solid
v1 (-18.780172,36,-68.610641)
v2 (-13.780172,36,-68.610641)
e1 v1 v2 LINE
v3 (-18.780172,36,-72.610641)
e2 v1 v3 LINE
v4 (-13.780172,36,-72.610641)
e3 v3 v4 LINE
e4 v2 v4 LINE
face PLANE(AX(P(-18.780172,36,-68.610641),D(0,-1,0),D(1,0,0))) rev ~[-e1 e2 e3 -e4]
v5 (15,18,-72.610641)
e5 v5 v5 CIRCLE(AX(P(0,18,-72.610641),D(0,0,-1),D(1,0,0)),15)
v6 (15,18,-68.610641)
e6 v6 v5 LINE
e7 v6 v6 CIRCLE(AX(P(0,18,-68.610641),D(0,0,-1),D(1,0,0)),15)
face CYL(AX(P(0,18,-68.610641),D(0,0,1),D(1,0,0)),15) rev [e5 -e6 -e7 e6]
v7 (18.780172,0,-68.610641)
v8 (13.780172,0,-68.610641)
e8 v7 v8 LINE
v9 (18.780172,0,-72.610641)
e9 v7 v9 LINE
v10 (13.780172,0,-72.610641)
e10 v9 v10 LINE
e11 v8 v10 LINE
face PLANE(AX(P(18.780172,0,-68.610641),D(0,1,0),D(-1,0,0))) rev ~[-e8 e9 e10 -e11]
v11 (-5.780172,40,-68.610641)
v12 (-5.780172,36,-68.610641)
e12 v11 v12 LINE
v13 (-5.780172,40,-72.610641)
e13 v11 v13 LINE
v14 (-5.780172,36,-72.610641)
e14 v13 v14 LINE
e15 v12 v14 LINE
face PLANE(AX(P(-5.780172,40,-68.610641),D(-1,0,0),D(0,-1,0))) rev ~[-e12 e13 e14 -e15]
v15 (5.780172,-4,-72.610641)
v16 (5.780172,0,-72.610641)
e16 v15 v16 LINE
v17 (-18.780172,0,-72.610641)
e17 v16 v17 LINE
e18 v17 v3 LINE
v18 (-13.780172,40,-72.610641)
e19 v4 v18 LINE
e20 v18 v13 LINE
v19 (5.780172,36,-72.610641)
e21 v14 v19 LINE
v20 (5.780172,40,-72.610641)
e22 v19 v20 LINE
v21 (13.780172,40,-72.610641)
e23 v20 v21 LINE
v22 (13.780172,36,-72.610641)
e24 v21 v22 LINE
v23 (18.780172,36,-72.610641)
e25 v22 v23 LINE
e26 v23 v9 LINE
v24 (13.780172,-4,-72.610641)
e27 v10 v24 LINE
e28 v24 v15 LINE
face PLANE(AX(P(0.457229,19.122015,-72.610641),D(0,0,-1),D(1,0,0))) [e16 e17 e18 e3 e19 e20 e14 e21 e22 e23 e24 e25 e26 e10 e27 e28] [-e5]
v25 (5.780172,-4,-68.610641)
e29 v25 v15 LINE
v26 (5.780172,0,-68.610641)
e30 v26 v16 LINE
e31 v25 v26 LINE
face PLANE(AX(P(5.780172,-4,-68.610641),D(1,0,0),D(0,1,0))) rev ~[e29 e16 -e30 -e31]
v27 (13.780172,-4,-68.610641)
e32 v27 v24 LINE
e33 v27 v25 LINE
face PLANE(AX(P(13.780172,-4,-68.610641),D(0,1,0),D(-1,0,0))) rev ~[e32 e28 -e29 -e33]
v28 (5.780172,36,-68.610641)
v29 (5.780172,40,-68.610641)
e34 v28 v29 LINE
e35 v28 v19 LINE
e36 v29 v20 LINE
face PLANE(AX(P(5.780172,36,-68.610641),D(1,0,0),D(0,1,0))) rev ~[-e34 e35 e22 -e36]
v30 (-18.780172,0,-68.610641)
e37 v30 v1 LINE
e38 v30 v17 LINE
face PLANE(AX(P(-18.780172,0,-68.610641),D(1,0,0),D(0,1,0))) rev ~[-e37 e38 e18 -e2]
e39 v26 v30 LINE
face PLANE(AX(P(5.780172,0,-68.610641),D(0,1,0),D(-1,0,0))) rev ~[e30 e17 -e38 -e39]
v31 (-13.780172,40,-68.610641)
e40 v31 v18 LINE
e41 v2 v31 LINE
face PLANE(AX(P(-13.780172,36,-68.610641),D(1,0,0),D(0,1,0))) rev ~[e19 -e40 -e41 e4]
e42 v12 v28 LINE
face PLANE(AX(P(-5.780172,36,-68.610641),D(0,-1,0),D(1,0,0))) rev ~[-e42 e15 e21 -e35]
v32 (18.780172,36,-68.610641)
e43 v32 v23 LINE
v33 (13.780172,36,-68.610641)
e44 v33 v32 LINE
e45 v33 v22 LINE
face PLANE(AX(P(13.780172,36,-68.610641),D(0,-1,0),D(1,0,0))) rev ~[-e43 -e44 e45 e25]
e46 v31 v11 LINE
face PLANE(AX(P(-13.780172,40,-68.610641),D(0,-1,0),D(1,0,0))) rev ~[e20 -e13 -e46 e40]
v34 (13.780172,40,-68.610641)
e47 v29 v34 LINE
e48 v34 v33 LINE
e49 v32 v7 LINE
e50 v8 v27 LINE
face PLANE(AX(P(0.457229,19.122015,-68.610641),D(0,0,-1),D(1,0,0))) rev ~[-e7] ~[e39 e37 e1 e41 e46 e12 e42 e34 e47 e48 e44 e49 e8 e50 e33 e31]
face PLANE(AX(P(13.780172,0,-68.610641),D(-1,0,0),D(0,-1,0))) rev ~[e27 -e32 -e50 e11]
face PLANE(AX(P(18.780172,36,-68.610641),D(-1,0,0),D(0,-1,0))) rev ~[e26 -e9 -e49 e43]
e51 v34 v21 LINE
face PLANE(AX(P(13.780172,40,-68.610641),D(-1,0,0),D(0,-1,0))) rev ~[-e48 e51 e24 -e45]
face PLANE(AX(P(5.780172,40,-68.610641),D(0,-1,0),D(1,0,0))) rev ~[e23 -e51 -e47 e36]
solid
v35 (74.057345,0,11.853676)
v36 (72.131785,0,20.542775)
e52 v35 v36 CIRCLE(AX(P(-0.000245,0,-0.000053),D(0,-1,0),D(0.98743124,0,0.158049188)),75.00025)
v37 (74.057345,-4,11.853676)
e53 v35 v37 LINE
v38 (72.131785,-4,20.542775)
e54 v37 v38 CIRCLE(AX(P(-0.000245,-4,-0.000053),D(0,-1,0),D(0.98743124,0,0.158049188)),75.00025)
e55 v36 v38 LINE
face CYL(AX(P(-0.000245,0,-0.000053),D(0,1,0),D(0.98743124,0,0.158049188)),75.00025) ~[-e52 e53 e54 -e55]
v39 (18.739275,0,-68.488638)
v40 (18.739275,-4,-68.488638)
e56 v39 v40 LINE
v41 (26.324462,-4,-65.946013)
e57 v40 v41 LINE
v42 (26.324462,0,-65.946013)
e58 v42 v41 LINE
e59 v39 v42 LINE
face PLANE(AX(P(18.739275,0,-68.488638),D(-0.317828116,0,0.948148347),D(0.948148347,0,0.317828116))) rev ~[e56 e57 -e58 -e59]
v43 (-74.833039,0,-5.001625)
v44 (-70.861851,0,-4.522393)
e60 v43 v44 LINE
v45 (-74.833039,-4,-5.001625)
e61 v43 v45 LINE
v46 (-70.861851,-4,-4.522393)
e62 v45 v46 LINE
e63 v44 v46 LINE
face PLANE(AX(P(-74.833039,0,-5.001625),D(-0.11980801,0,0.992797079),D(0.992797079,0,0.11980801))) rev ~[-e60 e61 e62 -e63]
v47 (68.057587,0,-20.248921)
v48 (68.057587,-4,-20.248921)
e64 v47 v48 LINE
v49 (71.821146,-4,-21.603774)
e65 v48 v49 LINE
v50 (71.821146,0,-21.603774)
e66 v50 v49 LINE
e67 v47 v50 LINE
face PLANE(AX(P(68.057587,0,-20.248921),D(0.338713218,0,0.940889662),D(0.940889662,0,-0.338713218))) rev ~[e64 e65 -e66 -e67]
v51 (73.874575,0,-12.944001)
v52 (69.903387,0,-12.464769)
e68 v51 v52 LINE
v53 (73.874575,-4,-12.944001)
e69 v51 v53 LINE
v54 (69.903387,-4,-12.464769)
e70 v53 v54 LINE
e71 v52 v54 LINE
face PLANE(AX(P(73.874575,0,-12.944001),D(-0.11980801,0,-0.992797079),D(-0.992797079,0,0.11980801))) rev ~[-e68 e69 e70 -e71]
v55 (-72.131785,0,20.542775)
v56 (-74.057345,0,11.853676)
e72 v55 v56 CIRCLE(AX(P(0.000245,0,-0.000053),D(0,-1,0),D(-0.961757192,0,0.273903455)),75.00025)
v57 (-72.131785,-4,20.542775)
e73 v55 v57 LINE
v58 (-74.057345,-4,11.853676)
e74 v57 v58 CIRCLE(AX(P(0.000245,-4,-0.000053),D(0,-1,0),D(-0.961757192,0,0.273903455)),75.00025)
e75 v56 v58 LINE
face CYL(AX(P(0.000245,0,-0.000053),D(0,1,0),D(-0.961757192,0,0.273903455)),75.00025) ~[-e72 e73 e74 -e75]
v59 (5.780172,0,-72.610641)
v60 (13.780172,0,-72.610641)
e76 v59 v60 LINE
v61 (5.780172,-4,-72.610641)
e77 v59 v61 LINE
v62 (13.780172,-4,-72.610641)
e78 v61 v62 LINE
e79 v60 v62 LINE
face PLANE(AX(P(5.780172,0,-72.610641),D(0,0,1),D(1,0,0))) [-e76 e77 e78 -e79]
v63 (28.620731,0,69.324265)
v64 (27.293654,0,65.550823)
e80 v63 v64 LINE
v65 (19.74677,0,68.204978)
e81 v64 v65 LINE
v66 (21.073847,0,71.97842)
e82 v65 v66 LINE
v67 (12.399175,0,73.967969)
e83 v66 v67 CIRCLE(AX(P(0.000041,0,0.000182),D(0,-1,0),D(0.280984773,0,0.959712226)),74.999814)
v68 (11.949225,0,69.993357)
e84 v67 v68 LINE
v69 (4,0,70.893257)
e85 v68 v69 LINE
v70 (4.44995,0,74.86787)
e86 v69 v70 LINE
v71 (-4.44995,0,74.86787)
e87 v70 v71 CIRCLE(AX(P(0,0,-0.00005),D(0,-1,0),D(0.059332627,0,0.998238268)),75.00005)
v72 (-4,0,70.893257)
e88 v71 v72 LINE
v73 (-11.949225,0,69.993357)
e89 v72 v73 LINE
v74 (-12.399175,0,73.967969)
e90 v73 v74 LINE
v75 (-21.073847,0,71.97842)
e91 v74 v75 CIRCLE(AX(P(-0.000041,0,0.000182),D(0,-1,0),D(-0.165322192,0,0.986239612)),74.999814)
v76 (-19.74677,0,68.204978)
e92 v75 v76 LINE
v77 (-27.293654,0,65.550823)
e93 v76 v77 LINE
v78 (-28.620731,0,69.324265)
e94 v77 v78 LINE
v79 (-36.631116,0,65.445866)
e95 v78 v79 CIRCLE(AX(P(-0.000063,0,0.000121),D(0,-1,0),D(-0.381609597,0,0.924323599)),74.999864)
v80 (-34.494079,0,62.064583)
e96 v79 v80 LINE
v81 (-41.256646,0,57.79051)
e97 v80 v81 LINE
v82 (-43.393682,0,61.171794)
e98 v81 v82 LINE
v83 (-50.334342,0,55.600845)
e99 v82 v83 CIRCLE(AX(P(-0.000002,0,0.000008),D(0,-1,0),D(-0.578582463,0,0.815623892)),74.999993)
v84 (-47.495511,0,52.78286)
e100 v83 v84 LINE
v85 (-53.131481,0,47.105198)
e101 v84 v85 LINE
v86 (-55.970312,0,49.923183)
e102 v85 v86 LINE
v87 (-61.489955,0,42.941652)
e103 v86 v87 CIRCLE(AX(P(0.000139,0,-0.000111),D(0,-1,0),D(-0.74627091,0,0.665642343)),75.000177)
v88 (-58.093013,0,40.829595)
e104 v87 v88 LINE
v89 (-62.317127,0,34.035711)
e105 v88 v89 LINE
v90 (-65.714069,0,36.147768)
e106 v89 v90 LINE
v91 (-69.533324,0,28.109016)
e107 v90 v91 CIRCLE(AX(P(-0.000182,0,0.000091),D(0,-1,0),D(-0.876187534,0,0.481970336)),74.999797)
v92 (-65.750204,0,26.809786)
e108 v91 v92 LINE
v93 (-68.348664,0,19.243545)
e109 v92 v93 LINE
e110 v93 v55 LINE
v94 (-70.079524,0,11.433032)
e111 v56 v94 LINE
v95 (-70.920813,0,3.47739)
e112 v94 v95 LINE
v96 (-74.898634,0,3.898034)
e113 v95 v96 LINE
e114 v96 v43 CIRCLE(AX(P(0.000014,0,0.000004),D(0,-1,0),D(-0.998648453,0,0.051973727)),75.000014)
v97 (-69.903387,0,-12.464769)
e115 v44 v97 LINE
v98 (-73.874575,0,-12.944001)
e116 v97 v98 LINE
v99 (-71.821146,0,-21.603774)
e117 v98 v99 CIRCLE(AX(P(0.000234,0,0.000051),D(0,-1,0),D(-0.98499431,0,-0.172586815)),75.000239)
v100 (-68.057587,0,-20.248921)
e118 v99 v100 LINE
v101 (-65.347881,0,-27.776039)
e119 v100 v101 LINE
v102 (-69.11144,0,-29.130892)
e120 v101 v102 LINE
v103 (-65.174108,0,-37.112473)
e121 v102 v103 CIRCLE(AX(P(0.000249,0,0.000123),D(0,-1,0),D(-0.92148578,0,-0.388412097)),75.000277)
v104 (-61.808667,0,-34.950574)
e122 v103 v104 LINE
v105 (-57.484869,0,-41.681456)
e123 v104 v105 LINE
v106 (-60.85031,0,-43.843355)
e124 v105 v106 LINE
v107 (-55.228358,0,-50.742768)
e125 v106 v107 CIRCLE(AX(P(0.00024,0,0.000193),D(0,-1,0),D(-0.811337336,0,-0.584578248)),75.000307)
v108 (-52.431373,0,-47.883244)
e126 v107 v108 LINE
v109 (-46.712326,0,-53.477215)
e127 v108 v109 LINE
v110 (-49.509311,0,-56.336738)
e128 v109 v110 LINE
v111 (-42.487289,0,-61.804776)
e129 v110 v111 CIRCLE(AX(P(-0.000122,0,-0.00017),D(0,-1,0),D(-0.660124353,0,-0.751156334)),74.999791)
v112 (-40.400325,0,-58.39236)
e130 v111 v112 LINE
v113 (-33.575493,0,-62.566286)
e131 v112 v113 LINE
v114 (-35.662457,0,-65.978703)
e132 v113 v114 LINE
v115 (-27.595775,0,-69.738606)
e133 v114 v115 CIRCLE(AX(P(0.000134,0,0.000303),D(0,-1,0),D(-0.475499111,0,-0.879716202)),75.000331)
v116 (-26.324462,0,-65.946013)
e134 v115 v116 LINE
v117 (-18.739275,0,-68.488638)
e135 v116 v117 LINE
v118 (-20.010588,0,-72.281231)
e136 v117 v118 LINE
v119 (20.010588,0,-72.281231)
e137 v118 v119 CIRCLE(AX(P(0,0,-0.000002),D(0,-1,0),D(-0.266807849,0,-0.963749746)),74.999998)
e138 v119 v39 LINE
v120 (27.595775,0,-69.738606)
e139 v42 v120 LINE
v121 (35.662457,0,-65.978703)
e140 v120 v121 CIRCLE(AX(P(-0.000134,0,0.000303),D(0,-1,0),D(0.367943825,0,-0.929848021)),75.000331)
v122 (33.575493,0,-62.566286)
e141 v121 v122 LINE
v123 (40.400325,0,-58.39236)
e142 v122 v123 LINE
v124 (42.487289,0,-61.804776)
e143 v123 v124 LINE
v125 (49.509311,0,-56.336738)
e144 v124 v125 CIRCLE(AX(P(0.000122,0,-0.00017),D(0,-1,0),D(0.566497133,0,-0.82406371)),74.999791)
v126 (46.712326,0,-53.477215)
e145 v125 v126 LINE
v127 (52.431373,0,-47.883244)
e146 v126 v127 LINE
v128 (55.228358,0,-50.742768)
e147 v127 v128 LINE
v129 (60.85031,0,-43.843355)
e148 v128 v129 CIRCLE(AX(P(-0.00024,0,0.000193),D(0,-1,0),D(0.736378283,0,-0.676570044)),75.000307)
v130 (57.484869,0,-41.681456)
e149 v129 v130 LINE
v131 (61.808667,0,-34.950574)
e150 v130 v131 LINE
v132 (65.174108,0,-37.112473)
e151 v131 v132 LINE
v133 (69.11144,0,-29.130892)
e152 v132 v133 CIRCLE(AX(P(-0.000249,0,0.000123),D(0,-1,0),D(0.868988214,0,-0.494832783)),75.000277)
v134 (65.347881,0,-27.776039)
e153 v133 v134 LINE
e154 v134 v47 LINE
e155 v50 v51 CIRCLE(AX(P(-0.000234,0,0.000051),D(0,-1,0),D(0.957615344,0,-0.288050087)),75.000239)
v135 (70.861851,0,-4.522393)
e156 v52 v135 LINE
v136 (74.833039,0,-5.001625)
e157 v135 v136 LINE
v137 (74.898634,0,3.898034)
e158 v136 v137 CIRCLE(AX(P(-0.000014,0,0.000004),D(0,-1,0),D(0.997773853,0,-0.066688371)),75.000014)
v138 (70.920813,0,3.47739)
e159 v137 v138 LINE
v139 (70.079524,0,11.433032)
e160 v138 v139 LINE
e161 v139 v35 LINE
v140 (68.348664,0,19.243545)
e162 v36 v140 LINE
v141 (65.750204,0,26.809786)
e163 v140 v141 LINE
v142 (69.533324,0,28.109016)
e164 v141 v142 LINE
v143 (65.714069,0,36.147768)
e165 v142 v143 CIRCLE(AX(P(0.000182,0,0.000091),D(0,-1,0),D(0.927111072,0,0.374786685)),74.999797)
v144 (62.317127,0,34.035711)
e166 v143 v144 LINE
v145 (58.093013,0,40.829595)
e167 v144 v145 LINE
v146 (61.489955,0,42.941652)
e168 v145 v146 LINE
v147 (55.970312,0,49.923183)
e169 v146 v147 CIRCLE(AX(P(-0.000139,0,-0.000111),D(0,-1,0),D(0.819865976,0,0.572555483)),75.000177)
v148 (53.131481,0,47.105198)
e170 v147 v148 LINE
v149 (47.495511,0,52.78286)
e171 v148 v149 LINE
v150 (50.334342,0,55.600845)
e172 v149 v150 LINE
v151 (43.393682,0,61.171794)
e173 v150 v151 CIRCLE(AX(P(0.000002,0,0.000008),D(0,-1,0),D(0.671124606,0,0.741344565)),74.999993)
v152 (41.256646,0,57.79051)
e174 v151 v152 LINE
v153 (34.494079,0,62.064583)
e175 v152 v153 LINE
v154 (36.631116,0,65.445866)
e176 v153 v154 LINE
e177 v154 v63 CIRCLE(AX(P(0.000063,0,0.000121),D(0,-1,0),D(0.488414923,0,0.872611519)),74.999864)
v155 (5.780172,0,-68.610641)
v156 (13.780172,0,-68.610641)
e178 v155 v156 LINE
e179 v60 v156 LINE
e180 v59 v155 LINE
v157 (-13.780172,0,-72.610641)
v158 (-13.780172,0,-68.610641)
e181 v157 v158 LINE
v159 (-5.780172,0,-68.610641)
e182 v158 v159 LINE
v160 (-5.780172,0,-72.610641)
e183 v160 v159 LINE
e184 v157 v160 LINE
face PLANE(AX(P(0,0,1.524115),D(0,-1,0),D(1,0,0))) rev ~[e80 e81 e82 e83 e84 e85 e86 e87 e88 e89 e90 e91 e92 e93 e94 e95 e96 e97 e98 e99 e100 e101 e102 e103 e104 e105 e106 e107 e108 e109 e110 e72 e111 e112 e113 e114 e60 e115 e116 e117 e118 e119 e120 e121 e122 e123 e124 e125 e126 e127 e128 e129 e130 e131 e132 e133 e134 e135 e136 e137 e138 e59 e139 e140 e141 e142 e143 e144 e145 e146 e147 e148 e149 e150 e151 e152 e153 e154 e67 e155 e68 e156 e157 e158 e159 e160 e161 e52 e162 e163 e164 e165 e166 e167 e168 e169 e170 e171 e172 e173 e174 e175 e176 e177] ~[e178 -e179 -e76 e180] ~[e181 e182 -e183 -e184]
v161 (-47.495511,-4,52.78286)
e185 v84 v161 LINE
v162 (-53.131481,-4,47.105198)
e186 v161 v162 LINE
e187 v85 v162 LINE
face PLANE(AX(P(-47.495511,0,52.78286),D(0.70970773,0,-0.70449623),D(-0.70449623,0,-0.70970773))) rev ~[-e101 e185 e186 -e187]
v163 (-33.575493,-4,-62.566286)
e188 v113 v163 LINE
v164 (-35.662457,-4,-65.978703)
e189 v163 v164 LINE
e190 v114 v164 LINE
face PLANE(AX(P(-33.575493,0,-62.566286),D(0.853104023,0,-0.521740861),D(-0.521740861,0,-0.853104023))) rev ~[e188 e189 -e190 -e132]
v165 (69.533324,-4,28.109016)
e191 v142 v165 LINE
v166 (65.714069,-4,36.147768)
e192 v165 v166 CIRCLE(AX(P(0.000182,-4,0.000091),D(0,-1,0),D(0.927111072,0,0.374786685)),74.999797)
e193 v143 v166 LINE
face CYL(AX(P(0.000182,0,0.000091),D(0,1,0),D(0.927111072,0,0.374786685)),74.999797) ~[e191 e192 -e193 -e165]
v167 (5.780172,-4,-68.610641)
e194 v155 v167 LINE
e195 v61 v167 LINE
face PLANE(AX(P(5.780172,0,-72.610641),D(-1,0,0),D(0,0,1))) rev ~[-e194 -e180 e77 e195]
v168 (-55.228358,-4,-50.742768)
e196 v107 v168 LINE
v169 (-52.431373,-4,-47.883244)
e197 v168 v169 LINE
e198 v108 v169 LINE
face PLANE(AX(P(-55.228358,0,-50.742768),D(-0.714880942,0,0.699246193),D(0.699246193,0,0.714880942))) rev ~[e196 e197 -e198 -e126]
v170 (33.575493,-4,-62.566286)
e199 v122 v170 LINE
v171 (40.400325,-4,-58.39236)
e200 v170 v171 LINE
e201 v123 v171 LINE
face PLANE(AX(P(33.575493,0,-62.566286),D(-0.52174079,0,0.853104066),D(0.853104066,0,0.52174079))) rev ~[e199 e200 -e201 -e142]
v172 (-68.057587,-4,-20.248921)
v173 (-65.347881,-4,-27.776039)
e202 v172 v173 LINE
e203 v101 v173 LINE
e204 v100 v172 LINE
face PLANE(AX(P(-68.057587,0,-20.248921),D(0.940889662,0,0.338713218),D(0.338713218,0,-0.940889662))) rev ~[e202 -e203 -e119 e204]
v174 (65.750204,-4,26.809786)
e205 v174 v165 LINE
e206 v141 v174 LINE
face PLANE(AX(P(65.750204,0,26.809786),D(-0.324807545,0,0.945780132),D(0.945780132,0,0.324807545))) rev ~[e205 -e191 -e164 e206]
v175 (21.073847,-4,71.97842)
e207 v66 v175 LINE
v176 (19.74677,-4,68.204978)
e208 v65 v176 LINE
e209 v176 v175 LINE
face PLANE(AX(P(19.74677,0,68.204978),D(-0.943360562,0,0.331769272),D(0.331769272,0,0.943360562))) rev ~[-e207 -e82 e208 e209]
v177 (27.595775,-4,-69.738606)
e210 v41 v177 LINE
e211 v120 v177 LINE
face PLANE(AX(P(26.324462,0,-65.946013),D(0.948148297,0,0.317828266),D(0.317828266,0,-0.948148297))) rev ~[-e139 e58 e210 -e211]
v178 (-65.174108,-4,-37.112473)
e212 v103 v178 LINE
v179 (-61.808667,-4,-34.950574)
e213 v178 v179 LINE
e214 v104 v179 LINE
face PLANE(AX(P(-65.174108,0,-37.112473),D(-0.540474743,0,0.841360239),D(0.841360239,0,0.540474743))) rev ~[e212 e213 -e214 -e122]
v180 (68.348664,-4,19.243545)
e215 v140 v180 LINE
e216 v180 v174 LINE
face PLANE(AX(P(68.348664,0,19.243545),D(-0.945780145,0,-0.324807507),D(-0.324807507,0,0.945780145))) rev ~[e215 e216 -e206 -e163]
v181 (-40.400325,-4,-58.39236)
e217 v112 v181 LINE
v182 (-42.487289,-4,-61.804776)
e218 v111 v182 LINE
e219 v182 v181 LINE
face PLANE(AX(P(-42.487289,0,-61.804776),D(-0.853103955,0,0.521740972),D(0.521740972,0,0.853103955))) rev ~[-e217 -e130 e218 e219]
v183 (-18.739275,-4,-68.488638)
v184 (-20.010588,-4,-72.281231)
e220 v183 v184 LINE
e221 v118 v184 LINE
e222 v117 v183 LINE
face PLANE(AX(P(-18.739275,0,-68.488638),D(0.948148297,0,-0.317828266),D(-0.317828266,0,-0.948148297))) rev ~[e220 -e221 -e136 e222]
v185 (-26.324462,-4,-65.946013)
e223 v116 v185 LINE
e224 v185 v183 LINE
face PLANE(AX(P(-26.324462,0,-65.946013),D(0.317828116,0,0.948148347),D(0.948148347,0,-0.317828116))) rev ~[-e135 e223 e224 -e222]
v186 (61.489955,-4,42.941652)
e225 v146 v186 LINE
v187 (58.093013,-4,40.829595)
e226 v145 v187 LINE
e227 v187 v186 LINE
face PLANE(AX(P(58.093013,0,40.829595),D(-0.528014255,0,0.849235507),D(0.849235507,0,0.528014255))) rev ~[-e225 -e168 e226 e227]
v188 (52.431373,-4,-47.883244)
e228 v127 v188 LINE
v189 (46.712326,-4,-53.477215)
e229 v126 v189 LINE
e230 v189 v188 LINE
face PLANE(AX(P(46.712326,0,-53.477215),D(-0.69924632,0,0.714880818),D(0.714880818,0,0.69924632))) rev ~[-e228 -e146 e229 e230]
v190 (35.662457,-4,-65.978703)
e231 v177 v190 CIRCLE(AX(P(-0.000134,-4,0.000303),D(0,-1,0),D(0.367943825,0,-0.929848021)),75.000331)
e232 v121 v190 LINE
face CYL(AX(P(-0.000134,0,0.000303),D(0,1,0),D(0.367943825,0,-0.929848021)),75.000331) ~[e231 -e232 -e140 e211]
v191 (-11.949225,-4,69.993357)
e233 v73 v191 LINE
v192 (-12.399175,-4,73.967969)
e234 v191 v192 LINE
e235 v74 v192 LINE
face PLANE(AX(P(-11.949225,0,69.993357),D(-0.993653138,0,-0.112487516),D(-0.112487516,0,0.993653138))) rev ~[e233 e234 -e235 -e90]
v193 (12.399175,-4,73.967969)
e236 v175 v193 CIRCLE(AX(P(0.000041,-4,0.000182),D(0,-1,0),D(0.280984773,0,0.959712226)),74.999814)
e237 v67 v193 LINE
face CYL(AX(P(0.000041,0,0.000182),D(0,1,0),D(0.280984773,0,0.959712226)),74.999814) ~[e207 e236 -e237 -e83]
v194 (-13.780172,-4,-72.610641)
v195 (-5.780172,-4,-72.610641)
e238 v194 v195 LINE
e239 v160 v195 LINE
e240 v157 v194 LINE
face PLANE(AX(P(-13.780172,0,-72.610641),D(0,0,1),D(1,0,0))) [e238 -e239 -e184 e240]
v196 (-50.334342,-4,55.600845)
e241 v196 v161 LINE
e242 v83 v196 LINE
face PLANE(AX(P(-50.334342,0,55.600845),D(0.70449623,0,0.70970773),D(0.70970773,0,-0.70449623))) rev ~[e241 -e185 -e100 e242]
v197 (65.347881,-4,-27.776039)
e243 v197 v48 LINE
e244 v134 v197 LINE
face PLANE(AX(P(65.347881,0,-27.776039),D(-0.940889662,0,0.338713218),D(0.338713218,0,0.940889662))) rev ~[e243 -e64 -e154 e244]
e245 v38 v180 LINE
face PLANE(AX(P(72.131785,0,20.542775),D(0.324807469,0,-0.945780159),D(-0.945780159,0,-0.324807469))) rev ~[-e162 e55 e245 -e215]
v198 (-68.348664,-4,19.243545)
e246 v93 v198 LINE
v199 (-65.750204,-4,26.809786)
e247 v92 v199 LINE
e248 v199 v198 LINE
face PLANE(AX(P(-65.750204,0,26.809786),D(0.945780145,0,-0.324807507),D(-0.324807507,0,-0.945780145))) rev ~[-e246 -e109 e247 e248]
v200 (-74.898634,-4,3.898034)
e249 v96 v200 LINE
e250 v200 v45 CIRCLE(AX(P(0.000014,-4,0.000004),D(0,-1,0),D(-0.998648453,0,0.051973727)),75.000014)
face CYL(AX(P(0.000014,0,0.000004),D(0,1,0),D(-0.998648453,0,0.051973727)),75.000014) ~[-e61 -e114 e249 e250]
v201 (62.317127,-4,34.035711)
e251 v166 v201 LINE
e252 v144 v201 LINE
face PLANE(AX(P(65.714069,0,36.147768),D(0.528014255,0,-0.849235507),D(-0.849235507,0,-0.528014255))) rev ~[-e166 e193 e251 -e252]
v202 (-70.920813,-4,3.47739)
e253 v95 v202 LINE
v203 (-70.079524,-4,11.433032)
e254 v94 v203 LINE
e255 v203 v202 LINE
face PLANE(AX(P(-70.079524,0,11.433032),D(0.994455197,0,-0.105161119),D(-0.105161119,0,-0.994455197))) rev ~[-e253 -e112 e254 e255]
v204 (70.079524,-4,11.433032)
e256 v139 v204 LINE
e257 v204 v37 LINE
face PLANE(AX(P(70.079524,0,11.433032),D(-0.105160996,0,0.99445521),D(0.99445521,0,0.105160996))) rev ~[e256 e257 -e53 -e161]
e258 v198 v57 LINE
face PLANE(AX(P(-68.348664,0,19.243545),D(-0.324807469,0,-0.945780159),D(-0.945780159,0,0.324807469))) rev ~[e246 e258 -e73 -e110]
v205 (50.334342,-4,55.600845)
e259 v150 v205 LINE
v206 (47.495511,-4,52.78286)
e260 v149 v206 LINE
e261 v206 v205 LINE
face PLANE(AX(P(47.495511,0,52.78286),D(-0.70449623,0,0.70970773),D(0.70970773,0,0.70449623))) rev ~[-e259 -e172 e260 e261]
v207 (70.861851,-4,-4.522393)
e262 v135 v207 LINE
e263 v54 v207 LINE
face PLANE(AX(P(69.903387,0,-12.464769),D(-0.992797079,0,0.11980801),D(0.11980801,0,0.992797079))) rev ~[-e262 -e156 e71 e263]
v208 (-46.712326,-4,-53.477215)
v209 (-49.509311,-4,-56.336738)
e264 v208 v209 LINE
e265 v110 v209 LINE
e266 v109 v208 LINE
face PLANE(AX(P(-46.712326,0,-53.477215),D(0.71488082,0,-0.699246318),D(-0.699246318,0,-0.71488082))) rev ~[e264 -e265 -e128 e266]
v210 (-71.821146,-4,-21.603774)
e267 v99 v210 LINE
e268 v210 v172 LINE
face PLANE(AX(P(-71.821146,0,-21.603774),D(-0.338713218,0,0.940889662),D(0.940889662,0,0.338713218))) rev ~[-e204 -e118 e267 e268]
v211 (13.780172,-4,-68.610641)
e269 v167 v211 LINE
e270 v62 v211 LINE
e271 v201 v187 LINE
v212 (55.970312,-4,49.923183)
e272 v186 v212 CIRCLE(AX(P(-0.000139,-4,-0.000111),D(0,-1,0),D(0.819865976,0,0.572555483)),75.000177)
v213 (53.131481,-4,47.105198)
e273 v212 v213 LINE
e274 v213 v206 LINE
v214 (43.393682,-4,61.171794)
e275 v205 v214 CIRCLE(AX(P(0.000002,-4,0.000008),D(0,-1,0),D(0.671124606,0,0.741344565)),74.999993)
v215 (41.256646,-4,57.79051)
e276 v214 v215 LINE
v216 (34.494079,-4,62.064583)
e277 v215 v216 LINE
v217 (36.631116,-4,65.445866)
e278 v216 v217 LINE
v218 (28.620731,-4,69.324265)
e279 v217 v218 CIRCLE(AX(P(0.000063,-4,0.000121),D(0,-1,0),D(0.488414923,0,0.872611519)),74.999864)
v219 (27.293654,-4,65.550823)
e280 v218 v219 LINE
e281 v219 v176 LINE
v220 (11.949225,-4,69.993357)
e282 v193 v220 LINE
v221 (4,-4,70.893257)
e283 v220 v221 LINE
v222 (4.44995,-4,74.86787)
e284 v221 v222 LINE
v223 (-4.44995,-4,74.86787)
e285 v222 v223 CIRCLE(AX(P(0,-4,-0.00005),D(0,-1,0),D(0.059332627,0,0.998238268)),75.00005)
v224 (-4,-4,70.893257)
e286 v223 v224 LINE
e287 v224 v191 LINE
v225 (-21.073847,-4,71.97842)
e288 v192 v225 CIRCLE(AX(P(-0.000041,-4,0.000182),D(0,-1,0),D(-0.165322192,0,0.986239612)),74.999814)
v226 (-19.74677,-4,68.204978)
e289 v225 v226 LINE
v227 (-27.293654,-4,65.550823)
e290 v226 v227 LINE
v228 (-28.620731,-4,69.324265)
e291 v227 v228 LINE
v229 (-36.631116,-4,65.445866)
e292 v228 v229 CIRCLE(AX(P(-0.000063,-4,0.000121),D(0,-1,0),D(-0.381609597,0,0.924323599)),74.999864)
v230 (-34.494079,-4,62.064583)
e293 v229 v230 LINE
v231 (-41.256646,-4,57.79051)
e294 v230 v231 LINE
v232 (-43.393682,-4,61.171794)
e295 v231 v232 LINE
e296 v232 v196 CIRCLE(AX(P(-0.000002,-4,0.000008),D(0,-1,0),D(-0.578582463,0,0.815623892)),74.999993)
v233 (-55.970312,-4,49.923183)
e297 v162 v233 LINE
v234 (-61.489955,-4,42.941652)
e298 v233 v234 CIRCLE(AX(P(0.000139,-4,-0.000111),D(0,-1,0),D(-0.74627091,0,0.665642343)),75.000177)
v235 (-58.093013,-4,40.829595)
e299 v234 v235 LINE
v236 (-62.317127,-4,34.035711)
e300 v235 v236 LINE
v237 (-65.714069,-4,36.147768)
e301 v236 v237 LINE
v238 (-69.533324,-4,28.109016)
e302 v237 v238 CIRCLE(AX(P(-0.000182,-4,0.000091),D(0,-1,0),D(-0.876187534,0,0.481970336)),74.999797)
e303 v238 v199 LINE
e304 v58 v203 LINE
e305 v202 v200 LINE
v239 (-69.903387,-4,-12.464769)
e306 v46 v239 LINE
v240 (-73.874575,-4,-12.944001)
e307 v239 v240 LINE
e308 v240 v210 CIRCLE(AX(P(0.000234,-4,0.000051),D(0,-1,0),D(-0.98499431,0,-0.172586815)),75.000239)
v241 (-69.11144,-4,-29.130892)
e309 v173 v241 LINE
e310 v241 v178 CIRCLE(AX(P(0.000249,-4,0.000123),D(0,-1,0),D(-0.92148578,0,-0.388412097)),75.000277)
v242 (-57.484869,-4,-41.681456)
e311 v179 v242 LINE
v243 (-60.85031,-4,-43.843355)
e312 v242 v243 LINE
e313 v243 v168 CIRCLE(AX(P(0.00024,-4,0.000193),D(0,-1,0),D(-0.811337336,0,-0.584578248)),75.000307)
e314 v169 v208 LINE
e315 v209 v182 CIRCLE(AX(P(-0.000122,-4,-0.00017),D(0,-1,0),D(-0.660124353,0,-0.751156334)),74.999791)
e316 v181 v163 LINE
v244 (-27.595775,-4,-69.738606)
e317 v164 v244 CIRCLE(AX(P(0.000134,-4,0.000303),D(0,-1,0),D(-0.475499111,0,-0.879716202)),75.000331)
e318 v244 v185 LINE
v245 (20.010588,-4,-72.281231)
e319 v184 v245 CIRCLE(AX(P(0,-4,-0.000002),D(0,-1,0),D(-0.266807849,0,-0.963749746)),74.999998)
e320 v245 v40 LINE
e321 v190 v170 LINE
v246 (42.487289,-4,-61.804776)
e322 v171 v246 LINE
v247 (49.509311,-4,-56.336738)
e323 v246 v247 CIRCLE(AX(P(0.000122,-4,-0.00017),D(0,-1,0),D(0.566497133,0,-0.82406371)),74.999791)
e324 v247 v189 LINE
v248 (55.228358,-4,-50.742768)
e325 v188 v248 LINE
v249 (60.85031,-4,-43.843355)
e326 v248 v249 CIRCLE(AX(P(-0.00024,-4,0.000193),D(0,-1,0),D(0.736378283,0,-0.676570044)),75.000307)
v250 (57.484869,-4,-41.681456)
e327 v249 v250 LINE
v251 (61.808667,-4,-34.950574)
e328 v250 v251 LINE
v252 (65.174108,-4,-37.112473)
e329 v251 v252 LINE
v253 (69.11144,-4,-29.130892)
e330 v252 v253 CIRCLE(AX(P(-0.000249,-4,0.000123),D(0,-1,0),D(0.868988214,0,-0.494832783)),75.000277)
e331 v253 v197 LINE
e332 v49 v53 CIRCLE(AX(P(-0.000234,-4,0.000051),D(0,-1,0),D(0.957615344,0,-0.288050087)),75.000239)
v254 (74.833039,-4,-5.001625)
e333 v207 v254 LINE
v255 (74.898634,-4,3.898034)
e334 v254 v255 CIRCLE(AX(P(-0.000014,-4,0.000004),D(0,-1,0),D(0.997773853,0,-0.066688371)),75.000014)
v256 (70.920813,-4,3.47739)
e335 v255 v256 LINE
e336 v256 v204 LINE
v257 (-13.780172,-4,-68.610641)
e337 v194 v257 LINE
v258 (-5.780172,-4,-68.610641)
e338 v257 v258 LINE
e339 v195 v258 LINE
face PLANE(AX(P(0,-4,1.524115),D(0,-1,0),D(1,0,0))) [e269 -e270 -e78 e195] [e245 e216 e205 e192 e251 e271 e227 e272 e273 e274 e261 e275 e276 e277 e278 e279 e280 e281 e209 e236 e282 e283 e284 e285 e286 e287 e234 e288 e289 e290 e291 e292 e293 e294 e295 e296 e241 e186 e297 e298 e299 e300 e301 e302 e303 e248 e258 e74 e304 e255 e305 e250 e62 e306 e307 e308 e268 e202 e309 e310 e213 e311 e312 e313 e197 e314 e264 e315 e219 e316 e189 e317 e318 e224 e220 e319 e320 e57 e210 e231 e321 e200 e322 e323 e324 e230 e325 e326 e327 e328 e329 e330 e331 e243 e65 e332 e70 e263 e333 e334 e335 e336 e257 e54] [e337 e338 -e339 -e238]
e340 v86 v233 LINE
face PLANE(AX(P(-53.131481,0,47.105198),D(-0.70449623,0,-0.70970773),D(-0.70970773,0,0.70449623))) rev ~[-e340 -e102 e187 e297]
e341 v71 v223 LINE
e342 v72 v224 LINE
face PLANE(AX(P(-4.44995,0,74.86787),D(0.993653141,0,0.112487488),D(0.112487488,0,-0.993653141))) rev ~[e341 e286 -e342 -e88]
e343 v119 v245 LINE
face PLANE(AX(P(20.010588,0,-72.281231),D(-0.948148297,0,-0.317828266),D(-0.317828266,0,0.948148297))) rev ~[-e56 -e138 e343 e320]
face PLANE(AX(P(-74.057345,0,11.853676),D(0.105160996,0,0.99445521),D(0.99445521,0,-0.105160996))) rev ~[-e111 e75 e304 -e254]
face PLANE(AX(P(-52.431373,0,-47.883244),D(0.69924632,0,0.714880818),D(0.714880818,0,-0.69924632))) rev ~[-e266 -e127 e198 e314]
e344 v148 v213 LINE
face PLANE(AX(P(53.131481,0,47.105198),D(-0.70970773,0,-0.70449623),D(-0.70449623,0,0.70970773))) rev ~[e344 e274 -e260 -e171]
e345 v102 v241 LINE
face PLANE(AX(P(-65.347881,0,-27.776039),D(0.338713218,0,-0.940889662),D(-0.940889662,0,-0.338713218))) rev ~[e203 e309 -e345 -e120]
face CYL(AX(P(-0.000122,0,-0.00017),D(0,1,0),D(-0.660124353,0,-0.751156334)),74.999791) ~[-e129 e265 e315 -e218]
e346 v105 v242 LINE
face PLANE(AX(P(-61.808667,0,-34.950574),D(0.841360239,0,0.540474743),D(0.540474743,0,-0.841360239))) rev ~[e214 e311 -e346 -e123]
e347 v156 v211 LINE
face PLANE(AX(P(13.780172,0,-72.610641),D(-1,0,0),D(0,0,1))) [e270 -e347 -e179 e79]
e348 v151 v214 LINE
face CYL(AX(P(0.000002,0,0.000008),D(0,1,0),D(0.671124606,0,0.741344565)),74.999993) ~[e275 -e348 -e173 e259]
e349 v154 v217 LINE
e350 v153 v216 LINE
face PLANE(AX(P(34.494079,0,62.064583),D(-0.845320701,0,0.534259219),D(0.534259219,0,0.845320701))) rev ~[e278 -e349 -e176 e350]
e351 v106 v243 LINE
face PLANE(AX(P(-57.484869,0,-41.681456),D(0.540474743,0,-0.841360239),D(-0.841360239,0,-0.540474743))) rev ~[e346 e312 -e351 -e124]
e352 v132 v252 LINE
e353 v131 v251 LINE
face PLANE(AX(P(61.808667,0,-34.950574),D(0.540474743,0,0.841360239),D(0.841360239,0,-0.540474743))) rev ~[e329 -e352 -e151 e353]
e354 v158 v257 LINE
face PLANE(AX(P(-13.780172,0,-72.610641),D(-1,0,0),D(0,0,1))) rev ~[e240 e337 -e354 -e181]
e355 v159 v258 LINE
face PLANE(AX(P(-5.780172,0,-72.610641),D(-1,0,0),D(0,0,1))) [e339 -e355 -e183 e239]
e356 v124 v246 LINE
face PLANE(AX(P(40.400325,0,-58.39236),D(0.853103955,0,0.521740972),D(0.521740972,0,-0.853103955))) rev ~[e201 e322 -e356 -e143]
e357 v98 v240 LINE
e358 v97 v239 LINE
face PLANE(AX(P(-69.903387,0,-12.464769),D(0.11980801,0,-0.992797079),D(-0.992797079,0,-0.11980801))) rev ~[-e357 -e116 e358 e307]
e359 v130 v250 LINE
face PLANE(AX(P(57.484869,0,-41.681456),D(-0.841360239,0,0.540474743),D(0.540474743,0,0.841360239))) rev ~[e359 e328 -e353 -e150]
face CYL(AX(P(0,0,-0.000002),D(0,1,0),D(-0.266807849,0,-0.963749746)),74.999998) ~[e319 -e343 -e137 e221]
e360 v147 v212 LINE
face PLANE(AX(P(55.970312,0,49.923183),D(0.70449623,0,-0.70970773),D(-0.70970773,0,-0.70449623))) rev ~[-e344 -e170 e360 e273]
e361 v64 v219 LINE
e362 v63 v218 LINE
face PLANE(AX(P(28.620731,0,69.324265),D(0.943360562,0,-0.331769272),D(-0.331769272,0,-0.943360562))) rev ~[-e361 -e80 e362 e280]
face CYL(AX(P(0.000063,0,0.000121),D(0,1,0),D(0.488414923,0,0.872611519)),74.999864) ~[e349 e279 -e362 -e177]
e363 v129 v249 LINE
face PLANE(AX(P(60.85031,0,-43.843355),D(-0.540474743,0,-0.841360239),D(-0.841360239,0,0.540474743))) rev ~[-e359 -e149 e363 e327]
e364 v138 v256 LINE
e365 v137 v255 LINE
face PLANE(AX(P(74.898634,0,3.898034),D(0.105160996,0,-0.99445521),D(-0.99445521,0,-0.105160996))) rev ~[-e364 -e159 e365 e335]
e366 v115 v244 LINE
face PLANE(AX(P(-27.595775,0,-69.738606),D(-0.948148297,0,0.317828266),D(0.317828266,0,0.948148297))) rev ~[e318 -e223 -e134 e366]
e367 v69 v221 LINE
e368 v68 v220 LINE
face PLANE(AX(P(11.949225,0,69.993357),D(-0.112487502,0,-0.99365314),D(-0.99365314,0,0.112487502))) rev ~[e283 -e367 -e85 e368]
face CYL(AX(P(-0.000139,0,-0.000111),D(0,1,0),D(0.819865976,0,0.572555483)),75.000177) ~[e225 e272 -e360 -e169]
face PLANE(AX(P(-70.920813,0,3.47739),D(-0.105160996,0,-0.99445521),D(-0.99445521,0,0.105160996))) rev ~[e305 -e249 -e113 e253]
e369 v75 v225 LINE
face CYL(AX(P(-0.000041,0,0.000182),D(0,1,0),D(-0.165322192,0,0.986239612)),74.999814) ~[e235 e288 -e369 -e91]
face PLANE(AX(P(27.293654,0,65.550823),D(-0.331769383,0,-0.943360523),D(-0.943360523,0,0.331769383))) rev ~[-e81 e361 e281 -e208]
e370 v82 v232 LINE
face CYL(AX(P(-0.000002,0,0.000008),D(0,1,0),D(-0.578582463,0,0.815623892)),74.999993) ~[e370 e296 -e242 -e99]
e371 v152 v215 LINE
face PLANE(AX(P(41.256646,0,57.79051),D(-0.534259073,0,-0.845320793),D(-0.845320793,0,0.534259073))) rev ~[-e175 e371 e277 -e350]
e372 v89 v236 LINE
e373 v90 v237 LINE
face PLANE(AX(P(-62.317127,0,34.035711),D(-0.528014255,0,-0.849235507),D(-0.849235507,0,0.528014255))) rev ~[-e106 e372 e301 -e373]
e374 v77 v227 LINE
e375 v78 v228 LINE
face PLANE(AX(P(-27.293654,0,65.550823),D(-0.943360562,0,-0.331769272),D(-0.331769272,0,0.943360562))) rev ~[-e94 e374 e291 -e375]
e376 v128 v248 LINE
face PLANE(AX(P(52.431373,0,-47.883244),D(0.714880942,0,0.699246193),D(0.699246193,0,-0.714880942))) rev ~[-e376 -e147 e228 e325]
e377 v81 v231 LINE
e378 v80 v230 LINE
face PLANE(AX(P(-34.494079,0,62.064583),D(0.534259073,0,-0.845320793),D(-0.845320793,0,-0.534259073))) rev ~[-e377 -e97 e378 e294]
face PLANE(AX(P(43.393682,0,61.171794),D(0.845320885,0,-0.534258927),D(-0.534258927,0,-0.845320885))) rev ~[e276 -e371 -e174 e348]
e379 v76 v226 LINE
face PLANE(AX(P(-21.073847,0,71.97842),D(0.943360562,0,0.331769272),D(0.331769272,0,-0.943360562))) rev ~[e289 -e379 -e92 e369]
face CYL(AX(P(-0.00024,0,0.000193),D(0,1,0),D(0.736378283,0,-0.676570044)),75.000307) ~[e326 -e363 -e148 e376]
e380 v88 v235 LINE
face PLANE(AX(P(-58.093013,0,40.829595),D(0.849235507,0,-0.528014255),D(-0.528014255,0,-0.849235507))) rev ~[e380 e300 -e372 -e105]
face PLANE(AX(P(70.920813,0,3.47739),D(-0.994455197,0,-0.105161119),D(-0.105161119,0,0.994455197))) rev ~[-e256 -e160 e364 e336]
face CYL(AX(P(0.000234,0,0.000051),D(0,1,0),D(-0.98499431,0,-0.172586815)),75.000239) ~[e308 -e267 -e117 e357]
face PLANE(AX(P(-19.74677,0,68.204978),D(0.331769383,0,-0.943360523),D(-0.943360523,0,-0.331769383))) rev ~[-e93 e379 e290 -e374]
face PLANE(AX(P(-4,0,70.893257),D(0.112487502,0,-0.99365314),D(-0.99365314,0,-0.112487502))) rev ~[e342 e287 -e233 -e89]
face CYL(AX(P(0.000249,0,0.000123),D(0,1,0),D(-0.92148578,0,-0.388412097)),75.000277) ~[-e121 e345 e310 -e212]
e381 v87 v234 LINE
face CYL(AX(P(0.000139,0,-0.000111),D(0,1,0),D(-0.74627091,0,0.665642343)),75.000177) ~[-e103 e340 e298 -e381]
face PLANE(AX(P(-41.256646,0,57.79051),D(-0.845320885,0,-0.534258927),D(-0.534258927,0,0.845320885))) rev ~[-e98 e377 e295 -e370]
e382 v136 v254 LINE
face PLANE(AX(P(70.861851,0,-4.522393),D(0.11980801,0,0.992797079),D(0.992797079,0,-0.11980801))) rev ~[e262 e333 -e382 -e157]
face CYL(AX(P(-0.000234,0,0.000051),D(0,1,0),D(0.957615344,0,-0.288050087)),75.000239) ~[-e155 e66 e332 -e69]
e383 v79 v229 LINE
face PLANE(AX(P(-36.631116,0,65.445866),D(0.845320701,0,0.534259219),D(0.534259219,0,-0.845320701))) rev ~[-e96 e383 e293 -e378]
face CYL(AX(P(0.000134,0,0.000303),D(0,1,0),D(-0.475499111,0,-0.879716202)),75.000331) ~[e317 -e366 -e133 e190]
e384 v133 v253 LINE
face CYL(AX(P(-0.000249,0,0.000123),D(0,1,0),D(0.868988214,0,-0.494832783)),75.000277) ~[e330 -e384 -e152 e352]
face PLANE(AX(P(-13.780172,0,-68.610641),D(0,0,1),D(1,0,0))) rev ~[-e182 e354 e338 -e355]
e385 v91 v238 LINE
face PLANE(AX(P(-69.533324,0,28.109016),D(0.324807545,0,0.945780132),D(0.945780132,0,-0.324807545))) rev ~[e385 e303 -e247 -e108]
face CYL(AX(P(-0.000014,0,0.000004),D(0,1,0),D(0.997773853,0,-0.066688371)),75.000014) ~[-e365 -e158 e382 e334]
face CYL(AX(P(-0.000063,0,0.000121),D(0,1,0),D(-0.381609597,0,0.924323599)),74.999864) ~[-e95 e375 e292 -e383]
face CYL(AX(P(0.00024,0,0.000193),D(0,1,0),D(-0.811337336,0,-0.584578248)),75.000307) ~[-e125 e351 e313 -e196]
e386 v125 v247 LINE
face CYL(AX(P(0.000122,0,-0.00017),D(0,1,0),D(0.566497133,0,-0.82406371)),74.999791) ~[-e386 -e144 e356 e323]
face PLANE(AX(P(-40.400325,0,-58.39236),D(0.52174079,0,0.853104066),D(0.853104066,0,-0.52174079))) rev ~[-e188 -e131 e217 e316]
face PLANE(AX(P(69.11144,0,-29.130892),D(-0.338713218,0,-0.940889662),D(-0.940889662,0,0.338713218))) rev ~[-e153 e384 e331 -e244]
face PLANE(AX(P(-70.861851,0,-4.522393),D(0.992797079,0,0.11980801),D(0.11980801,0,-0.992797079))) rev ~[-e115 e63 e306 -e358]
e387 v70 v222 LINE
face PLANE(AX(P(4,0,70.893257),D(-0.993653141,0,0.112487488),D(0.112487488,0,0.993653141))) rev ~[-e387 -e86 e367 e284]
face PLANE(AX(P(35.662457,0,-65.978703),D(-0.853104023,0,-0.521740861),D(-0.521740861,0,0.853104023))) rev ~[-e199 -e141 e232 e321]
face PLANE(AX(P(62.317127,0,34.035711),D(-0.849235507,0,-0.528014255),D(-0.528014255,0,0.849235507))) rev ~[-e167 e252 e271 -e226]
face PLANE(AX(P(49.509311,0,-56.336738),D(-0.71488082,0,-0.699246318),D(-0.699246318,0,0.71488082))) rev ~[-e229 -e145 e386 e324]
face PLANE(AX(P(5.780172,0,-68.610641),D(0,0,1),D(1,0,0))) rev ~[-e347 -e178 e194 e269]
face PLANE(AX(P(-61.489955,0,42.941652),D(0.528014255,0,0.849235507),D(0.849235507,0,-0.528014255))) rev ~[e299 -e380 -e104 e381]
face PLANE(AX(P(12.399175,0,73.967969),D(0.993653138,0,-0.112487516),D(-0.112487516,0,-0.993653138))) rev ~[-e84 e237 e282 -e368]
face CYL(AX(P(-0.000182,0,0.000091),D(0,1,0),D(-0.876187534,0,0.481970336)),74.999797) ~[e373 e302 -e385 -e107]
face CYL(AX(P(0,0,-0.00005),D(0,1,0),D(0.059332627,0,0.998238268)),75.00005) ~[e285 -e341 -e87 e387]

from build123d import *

# Parameters (mm, degrees)
F0_W     = 8
F0_H     = 4
F1_DEPTH = 4
F2_R     = 15
F3_DEPTH = 4


with BuildPart() as f1:
    # F0 (on Front) → F1 (new body)
    with BuildSketch(Plane.XZ):
        with BuildLine():
            Line((-18.739275, -68.488638), (-20.010588, -72.281231))
            ThreePointArc((-20.010588, -72.281231), (0, -75), (20.010588, -72.281231))
            Line((20.010588, -72.281231), (18.739275, -68.488638))
            Line((18.739275, -68.488638), (26.324462, -65.946013))
            Line((26.324462, -65.946013), (27.595775, -69.738606))
            ThreePointArc((27.595775, -69.738606), (31.684936, -67.978414), (35.662457, -65.978703))
            Line((35.662457, -65.978703), (33.575493, -62.566286))
            Line((33.575493, -62.566286), (40.400325, -58.39236))
            Line((40.400325, -58.39236), (42.487289, -61.804776))
            ThreePointArc((42.487289, -61.804776), (46.07948, -59.175008), (49.509311, -56.336738))
            Line((49.509311, -56.336738), (46.712326, -53.477215))
            Line((46.712326, -53.477215), (52.431373, -47.883244))
            Line((52.431373, -47.883244), (55.228358, -50.742768))
            ThreePointArc((55.228358, -50.742768), (58.141764, -47.376526), (60.85031, -43.843355))
            Line((60.85031, -43.843355), (57.484869, -41.681456))
            Line((57.484869, -41.681456), (61.808667, -34.950574))
            Line((61.808667, -34.950574), (65.174108, -37.112473))
            ThreePointArc((65.174108, -37.112473), (67.26127, -33.180137), (69.11144, -29.130892))
            Line((69.11144, -29.130892), (65.347881, -27.776039))
            Line((65.347881, -27.776039), (68.057587, -20.248921))
            Line((68.057587, -20.248921), (71.821146, -21.603774))
            ThreePointArc((71.821146, -21.603774), (72.976425, -17.304374), (73.874575, -12.944001))
            Line((73.874575, -12.944001), (69.903387, -12.464769))
            Line((69.903387, -12.464769), (70.861851, -4.522393))
            Line((70.861851, -4.522393), (74.833039, -5.001625))
            ThreePointArc((74.833039, -5.001625), (74.997963, -0.552769), (74.898634, 3.898034))
            Line((74.898634, 3.898034), (70.920813, 3.47739))
            Line((70.920813, 3.47739), (70.079524, 11.433032))
            Line((70.079524, 11.433032), (74.057345, 11.853676))
            ThreePointArc((74.057345, 11.853676), (73.223565, 16.226813), (72.131785, 20.542775))
            Line((72.131785, 20.542775), (68.348664, 19.243545))
            Line((68.348664, 19.243545), (65.750204, 26.809786))
            Line((65.750204, 26.809786), (69.533324, 28.109016))
            ThreePointArc((69.533324, 28.109016), (67.743042, 32.185094), (65.714069, 36.147768))
            Line((65.714069, 36.147768), (62.317127, 34.035711))
            Line((62.317127, 34.035711), (58.093013, 40.829595))
            Line((58.093013, 40.829595), (61.489955, 42.941652))
            ThreePointArc((61.489955, 42.941652), (58.833783, 46.514363), (55.970312, 49.923183))
            Line((55.970312, 49.923183), (53.131481, 47.105198))
            Line((53.131481, 47.105198), (47.495511, 52.78286))
            Line((47.495511, 52.78286), (50.334342, 55.600845))
            ThreePointArc((50.334342, 55.600845), (46.94672, 58.489362), (43.393682, 61.171794))
            Line((43.393682, 61.171794), (41.256646, 57.79051))
            Line((41.256646, 57.79051), (34.494079, 62.064583))
            Line((34.494079, 62.064583), (36.631116, 65.445866))
            ThreePointArc((36.631116, 65.445866), (32.683503, 67.50399), (28.620731, 69.324265))
            Line((28.620731, 69.324265), (27.293654, 65.550823))
            Line((27.293654, 65.550823), (19.74677, 68.204978))
            Line((19.74677, 68.204978), (21.073847, 71.97842))
            ThreePointArc((21.073847, 71.97842), (16.766049, 73.101981), (12.399175, 73.967969))
            Line((12.399175, 73.967969), (11.949225, 69.993357))
            Line((11.949225, 69.993357), (4, 70.893257))
            Line((4, 70.893257), (4.44995, 74.86787))
            ThreePointArc((4.44995, 74.86787), (0, 75), (-4.44995, 74.86787))
            Line((-4.44995, 74.86787), (-4, 70.893257))
            Line((-4, 70.893257), (-11.949225, 69.993357))
            Line((-11.949225, 69.993357), (-12.399175, 73.967969))
            ThreePointArc((-12.399175, 73.967969), (-16.766049, 73.101981), (-21.073847, 71.97842))
            Line((-21.073847, 71.97842), (-19.74677, 68.204978))
            Line((-19.74677, 68.204978), (-27.293654, 65.550823))
            Line((-27.293654, 65.550823), (-28.620731, 69.324265))
            ThreePointArc((-28.620731, 69.324265), (-32.683503, 67.50399), (-36.631116, 65.445866))
            Line((-36.631116, 65.445866), (-34.494079, 62.064583))
            Line((-34.494079, 62.064583), (-41.256646, 57.79051))
            Line((-41.256646, 57.79051), (-43.393682, 61.171794))
            ThreePointArc((-43.393682, 61.171794), (-46.94672, 58.489362), (-50.334342, 55.600845))
            Line((-50.334342, 55.600845), (-47.495511, 52.78286))
            Line((-47.495511, 52.78286), (-53.131481, 47.105198))
            Line((-53.131481, 47.105198), (-55.970312, 49.923183))
            ThreePointArc((-55.970312, 49.923183), (-58.833783, 46.514363), (-61.489955, 42.941652))
            Line((-61.489955, 42.941652), (-58.093013, 40.829595))
            Line((-58.093013, 40.829595), (-62.317127, 34.035711))
            Line((-62.317127, 34.035711), (-65.714069, 36.147768))
            ThreePointArc((-65.714069, 36.147768), (-67.743042, 32.185094), (-69.533324, 28.109016))
            Line((-69.533324, 28.109016), (-65.750204, 26.809786))
            Line((-65.750204, 26.809786), (-68.348664, 19.243545))
            Line((-68.348664, 19.243545), (-72.131785, 20.542775))
            ThreePointArc((-72.131785, 20.542775), (-73.223565, 16.226813), (-74.057345, 11.853676))
            Line((-74.057345, 11.853676), (-70.079524, 11.433032))
            Line((-70.079524, 11.433032), (-70.920813, 3.47739))
            Line((-70.920813, 3.47739), (-74.898634, 3.898034))
            ThreePointArc((-74.898634, 3.898034), (-74.997963, -0.552769), (-74.833039, -5.001625))
            Line((-74.833039, -5.001625), (-70.861851, -4.522393))
            Line((-70.861851, -4.522393), (-69.903387, -12.464769))
            Line((-69.903387, -12.464769), (-73.874575, -12.944001))
            ThreePointArc((-73.874575, -12.944001), (-72.976425, -17.304374), (-71.821146, -21.603774))
            Line((-71.821146, -21.603774), (-68.057587, -20.248921))
            Line((-68.057587, -20.248921), (-65.347881, -27.776039))
            Line((-65.347881, -27.776039), (-69.11144, -29.130892))
            ThreePointArc((-69.11144, -29.130892), (-67.26127, -33.180137), (-65.174108, -37.112473))
            Line((-65.174108, -37.112473), (-61.808667, -34.950574))
            Line((-61.808667, -34.950574), (-57.484869, -41.681456))
            Line((-57.484869, -41.681456), (-60.85031, -43.843355))
            ThreePointArc((-60.85031, -43.843355), (-58.141764, -47.376526), (-55.228358, -50.742768))
            Line((-55.228358, -50.742768), (-52.431373, -47.883244))
            Line((-52.431373, -47.883244), (-46.712326, -53.477215))
            Line((-46.712326, -53.477215), (-49.509311, -56.336738))
            ThreePointArc((-49.509311, -56.336738), (-46.07948, -59.175008), (-42.487289, -61.804776))
            Line((-42.487289, -61.804776), (-40.400325, -58.39236))
            Line((-40.400325, -58.39236), (-33.575493, -62.566286))
            Line((-33.575493, -62.566286), (-35.662457, -65.978703))
            ThreePointArc((-35.662457, -65.978703), (-31.684936, -67.978414), (-27.595775, -69.738606))
            Line((-27.595775, -69.738606), (-26.324462, -65.946013))
            Line((-26.324462, -65.946013), (-18.739275, -68.488638))
        make_face()
        with Locations((-9.780172, -70.610641)):
            Rectangle(F0_W, F0_H, mode=Mode.SUBTRACT)
        with Locations((9.780172, -70.610641)):
            Rectangle(F0_W, F0_H, mode=Mode.SUBTRACT)
    extrude(amount=F1_DEPTH)


with BuildPart() as f3:
    # F2 (on face) → F3 (new body)
    with BuildSketch(Plane(origin=(0, 0, -68.610641), x_dir=(1, 0, 0), z_dir=(0, 0, -1))):
        Polygon((5.780172, 0), (-5.780172, 0), (-13.780172, 0), (-18.780172, 0), (-18.780172, -36), (-13.780172, -36), (-13.780172, -40), (-5.780172, -40), (-5.780172, -36), (5.780172, -36), (5.780172, -40), (13.780172, -40), (13.780172, -36), (18.780172, -36), (18.780172, 0), (13.780172, 0), (13.780172, 4), (5.780172, 4), align=None)
        with Locations((0, -18)):
            Circle(F2_R, mode=Mode.SUBTRACT)
    extrude(amount=F3_DEPTH)


solid = Compound([f1.part, f3.part])
